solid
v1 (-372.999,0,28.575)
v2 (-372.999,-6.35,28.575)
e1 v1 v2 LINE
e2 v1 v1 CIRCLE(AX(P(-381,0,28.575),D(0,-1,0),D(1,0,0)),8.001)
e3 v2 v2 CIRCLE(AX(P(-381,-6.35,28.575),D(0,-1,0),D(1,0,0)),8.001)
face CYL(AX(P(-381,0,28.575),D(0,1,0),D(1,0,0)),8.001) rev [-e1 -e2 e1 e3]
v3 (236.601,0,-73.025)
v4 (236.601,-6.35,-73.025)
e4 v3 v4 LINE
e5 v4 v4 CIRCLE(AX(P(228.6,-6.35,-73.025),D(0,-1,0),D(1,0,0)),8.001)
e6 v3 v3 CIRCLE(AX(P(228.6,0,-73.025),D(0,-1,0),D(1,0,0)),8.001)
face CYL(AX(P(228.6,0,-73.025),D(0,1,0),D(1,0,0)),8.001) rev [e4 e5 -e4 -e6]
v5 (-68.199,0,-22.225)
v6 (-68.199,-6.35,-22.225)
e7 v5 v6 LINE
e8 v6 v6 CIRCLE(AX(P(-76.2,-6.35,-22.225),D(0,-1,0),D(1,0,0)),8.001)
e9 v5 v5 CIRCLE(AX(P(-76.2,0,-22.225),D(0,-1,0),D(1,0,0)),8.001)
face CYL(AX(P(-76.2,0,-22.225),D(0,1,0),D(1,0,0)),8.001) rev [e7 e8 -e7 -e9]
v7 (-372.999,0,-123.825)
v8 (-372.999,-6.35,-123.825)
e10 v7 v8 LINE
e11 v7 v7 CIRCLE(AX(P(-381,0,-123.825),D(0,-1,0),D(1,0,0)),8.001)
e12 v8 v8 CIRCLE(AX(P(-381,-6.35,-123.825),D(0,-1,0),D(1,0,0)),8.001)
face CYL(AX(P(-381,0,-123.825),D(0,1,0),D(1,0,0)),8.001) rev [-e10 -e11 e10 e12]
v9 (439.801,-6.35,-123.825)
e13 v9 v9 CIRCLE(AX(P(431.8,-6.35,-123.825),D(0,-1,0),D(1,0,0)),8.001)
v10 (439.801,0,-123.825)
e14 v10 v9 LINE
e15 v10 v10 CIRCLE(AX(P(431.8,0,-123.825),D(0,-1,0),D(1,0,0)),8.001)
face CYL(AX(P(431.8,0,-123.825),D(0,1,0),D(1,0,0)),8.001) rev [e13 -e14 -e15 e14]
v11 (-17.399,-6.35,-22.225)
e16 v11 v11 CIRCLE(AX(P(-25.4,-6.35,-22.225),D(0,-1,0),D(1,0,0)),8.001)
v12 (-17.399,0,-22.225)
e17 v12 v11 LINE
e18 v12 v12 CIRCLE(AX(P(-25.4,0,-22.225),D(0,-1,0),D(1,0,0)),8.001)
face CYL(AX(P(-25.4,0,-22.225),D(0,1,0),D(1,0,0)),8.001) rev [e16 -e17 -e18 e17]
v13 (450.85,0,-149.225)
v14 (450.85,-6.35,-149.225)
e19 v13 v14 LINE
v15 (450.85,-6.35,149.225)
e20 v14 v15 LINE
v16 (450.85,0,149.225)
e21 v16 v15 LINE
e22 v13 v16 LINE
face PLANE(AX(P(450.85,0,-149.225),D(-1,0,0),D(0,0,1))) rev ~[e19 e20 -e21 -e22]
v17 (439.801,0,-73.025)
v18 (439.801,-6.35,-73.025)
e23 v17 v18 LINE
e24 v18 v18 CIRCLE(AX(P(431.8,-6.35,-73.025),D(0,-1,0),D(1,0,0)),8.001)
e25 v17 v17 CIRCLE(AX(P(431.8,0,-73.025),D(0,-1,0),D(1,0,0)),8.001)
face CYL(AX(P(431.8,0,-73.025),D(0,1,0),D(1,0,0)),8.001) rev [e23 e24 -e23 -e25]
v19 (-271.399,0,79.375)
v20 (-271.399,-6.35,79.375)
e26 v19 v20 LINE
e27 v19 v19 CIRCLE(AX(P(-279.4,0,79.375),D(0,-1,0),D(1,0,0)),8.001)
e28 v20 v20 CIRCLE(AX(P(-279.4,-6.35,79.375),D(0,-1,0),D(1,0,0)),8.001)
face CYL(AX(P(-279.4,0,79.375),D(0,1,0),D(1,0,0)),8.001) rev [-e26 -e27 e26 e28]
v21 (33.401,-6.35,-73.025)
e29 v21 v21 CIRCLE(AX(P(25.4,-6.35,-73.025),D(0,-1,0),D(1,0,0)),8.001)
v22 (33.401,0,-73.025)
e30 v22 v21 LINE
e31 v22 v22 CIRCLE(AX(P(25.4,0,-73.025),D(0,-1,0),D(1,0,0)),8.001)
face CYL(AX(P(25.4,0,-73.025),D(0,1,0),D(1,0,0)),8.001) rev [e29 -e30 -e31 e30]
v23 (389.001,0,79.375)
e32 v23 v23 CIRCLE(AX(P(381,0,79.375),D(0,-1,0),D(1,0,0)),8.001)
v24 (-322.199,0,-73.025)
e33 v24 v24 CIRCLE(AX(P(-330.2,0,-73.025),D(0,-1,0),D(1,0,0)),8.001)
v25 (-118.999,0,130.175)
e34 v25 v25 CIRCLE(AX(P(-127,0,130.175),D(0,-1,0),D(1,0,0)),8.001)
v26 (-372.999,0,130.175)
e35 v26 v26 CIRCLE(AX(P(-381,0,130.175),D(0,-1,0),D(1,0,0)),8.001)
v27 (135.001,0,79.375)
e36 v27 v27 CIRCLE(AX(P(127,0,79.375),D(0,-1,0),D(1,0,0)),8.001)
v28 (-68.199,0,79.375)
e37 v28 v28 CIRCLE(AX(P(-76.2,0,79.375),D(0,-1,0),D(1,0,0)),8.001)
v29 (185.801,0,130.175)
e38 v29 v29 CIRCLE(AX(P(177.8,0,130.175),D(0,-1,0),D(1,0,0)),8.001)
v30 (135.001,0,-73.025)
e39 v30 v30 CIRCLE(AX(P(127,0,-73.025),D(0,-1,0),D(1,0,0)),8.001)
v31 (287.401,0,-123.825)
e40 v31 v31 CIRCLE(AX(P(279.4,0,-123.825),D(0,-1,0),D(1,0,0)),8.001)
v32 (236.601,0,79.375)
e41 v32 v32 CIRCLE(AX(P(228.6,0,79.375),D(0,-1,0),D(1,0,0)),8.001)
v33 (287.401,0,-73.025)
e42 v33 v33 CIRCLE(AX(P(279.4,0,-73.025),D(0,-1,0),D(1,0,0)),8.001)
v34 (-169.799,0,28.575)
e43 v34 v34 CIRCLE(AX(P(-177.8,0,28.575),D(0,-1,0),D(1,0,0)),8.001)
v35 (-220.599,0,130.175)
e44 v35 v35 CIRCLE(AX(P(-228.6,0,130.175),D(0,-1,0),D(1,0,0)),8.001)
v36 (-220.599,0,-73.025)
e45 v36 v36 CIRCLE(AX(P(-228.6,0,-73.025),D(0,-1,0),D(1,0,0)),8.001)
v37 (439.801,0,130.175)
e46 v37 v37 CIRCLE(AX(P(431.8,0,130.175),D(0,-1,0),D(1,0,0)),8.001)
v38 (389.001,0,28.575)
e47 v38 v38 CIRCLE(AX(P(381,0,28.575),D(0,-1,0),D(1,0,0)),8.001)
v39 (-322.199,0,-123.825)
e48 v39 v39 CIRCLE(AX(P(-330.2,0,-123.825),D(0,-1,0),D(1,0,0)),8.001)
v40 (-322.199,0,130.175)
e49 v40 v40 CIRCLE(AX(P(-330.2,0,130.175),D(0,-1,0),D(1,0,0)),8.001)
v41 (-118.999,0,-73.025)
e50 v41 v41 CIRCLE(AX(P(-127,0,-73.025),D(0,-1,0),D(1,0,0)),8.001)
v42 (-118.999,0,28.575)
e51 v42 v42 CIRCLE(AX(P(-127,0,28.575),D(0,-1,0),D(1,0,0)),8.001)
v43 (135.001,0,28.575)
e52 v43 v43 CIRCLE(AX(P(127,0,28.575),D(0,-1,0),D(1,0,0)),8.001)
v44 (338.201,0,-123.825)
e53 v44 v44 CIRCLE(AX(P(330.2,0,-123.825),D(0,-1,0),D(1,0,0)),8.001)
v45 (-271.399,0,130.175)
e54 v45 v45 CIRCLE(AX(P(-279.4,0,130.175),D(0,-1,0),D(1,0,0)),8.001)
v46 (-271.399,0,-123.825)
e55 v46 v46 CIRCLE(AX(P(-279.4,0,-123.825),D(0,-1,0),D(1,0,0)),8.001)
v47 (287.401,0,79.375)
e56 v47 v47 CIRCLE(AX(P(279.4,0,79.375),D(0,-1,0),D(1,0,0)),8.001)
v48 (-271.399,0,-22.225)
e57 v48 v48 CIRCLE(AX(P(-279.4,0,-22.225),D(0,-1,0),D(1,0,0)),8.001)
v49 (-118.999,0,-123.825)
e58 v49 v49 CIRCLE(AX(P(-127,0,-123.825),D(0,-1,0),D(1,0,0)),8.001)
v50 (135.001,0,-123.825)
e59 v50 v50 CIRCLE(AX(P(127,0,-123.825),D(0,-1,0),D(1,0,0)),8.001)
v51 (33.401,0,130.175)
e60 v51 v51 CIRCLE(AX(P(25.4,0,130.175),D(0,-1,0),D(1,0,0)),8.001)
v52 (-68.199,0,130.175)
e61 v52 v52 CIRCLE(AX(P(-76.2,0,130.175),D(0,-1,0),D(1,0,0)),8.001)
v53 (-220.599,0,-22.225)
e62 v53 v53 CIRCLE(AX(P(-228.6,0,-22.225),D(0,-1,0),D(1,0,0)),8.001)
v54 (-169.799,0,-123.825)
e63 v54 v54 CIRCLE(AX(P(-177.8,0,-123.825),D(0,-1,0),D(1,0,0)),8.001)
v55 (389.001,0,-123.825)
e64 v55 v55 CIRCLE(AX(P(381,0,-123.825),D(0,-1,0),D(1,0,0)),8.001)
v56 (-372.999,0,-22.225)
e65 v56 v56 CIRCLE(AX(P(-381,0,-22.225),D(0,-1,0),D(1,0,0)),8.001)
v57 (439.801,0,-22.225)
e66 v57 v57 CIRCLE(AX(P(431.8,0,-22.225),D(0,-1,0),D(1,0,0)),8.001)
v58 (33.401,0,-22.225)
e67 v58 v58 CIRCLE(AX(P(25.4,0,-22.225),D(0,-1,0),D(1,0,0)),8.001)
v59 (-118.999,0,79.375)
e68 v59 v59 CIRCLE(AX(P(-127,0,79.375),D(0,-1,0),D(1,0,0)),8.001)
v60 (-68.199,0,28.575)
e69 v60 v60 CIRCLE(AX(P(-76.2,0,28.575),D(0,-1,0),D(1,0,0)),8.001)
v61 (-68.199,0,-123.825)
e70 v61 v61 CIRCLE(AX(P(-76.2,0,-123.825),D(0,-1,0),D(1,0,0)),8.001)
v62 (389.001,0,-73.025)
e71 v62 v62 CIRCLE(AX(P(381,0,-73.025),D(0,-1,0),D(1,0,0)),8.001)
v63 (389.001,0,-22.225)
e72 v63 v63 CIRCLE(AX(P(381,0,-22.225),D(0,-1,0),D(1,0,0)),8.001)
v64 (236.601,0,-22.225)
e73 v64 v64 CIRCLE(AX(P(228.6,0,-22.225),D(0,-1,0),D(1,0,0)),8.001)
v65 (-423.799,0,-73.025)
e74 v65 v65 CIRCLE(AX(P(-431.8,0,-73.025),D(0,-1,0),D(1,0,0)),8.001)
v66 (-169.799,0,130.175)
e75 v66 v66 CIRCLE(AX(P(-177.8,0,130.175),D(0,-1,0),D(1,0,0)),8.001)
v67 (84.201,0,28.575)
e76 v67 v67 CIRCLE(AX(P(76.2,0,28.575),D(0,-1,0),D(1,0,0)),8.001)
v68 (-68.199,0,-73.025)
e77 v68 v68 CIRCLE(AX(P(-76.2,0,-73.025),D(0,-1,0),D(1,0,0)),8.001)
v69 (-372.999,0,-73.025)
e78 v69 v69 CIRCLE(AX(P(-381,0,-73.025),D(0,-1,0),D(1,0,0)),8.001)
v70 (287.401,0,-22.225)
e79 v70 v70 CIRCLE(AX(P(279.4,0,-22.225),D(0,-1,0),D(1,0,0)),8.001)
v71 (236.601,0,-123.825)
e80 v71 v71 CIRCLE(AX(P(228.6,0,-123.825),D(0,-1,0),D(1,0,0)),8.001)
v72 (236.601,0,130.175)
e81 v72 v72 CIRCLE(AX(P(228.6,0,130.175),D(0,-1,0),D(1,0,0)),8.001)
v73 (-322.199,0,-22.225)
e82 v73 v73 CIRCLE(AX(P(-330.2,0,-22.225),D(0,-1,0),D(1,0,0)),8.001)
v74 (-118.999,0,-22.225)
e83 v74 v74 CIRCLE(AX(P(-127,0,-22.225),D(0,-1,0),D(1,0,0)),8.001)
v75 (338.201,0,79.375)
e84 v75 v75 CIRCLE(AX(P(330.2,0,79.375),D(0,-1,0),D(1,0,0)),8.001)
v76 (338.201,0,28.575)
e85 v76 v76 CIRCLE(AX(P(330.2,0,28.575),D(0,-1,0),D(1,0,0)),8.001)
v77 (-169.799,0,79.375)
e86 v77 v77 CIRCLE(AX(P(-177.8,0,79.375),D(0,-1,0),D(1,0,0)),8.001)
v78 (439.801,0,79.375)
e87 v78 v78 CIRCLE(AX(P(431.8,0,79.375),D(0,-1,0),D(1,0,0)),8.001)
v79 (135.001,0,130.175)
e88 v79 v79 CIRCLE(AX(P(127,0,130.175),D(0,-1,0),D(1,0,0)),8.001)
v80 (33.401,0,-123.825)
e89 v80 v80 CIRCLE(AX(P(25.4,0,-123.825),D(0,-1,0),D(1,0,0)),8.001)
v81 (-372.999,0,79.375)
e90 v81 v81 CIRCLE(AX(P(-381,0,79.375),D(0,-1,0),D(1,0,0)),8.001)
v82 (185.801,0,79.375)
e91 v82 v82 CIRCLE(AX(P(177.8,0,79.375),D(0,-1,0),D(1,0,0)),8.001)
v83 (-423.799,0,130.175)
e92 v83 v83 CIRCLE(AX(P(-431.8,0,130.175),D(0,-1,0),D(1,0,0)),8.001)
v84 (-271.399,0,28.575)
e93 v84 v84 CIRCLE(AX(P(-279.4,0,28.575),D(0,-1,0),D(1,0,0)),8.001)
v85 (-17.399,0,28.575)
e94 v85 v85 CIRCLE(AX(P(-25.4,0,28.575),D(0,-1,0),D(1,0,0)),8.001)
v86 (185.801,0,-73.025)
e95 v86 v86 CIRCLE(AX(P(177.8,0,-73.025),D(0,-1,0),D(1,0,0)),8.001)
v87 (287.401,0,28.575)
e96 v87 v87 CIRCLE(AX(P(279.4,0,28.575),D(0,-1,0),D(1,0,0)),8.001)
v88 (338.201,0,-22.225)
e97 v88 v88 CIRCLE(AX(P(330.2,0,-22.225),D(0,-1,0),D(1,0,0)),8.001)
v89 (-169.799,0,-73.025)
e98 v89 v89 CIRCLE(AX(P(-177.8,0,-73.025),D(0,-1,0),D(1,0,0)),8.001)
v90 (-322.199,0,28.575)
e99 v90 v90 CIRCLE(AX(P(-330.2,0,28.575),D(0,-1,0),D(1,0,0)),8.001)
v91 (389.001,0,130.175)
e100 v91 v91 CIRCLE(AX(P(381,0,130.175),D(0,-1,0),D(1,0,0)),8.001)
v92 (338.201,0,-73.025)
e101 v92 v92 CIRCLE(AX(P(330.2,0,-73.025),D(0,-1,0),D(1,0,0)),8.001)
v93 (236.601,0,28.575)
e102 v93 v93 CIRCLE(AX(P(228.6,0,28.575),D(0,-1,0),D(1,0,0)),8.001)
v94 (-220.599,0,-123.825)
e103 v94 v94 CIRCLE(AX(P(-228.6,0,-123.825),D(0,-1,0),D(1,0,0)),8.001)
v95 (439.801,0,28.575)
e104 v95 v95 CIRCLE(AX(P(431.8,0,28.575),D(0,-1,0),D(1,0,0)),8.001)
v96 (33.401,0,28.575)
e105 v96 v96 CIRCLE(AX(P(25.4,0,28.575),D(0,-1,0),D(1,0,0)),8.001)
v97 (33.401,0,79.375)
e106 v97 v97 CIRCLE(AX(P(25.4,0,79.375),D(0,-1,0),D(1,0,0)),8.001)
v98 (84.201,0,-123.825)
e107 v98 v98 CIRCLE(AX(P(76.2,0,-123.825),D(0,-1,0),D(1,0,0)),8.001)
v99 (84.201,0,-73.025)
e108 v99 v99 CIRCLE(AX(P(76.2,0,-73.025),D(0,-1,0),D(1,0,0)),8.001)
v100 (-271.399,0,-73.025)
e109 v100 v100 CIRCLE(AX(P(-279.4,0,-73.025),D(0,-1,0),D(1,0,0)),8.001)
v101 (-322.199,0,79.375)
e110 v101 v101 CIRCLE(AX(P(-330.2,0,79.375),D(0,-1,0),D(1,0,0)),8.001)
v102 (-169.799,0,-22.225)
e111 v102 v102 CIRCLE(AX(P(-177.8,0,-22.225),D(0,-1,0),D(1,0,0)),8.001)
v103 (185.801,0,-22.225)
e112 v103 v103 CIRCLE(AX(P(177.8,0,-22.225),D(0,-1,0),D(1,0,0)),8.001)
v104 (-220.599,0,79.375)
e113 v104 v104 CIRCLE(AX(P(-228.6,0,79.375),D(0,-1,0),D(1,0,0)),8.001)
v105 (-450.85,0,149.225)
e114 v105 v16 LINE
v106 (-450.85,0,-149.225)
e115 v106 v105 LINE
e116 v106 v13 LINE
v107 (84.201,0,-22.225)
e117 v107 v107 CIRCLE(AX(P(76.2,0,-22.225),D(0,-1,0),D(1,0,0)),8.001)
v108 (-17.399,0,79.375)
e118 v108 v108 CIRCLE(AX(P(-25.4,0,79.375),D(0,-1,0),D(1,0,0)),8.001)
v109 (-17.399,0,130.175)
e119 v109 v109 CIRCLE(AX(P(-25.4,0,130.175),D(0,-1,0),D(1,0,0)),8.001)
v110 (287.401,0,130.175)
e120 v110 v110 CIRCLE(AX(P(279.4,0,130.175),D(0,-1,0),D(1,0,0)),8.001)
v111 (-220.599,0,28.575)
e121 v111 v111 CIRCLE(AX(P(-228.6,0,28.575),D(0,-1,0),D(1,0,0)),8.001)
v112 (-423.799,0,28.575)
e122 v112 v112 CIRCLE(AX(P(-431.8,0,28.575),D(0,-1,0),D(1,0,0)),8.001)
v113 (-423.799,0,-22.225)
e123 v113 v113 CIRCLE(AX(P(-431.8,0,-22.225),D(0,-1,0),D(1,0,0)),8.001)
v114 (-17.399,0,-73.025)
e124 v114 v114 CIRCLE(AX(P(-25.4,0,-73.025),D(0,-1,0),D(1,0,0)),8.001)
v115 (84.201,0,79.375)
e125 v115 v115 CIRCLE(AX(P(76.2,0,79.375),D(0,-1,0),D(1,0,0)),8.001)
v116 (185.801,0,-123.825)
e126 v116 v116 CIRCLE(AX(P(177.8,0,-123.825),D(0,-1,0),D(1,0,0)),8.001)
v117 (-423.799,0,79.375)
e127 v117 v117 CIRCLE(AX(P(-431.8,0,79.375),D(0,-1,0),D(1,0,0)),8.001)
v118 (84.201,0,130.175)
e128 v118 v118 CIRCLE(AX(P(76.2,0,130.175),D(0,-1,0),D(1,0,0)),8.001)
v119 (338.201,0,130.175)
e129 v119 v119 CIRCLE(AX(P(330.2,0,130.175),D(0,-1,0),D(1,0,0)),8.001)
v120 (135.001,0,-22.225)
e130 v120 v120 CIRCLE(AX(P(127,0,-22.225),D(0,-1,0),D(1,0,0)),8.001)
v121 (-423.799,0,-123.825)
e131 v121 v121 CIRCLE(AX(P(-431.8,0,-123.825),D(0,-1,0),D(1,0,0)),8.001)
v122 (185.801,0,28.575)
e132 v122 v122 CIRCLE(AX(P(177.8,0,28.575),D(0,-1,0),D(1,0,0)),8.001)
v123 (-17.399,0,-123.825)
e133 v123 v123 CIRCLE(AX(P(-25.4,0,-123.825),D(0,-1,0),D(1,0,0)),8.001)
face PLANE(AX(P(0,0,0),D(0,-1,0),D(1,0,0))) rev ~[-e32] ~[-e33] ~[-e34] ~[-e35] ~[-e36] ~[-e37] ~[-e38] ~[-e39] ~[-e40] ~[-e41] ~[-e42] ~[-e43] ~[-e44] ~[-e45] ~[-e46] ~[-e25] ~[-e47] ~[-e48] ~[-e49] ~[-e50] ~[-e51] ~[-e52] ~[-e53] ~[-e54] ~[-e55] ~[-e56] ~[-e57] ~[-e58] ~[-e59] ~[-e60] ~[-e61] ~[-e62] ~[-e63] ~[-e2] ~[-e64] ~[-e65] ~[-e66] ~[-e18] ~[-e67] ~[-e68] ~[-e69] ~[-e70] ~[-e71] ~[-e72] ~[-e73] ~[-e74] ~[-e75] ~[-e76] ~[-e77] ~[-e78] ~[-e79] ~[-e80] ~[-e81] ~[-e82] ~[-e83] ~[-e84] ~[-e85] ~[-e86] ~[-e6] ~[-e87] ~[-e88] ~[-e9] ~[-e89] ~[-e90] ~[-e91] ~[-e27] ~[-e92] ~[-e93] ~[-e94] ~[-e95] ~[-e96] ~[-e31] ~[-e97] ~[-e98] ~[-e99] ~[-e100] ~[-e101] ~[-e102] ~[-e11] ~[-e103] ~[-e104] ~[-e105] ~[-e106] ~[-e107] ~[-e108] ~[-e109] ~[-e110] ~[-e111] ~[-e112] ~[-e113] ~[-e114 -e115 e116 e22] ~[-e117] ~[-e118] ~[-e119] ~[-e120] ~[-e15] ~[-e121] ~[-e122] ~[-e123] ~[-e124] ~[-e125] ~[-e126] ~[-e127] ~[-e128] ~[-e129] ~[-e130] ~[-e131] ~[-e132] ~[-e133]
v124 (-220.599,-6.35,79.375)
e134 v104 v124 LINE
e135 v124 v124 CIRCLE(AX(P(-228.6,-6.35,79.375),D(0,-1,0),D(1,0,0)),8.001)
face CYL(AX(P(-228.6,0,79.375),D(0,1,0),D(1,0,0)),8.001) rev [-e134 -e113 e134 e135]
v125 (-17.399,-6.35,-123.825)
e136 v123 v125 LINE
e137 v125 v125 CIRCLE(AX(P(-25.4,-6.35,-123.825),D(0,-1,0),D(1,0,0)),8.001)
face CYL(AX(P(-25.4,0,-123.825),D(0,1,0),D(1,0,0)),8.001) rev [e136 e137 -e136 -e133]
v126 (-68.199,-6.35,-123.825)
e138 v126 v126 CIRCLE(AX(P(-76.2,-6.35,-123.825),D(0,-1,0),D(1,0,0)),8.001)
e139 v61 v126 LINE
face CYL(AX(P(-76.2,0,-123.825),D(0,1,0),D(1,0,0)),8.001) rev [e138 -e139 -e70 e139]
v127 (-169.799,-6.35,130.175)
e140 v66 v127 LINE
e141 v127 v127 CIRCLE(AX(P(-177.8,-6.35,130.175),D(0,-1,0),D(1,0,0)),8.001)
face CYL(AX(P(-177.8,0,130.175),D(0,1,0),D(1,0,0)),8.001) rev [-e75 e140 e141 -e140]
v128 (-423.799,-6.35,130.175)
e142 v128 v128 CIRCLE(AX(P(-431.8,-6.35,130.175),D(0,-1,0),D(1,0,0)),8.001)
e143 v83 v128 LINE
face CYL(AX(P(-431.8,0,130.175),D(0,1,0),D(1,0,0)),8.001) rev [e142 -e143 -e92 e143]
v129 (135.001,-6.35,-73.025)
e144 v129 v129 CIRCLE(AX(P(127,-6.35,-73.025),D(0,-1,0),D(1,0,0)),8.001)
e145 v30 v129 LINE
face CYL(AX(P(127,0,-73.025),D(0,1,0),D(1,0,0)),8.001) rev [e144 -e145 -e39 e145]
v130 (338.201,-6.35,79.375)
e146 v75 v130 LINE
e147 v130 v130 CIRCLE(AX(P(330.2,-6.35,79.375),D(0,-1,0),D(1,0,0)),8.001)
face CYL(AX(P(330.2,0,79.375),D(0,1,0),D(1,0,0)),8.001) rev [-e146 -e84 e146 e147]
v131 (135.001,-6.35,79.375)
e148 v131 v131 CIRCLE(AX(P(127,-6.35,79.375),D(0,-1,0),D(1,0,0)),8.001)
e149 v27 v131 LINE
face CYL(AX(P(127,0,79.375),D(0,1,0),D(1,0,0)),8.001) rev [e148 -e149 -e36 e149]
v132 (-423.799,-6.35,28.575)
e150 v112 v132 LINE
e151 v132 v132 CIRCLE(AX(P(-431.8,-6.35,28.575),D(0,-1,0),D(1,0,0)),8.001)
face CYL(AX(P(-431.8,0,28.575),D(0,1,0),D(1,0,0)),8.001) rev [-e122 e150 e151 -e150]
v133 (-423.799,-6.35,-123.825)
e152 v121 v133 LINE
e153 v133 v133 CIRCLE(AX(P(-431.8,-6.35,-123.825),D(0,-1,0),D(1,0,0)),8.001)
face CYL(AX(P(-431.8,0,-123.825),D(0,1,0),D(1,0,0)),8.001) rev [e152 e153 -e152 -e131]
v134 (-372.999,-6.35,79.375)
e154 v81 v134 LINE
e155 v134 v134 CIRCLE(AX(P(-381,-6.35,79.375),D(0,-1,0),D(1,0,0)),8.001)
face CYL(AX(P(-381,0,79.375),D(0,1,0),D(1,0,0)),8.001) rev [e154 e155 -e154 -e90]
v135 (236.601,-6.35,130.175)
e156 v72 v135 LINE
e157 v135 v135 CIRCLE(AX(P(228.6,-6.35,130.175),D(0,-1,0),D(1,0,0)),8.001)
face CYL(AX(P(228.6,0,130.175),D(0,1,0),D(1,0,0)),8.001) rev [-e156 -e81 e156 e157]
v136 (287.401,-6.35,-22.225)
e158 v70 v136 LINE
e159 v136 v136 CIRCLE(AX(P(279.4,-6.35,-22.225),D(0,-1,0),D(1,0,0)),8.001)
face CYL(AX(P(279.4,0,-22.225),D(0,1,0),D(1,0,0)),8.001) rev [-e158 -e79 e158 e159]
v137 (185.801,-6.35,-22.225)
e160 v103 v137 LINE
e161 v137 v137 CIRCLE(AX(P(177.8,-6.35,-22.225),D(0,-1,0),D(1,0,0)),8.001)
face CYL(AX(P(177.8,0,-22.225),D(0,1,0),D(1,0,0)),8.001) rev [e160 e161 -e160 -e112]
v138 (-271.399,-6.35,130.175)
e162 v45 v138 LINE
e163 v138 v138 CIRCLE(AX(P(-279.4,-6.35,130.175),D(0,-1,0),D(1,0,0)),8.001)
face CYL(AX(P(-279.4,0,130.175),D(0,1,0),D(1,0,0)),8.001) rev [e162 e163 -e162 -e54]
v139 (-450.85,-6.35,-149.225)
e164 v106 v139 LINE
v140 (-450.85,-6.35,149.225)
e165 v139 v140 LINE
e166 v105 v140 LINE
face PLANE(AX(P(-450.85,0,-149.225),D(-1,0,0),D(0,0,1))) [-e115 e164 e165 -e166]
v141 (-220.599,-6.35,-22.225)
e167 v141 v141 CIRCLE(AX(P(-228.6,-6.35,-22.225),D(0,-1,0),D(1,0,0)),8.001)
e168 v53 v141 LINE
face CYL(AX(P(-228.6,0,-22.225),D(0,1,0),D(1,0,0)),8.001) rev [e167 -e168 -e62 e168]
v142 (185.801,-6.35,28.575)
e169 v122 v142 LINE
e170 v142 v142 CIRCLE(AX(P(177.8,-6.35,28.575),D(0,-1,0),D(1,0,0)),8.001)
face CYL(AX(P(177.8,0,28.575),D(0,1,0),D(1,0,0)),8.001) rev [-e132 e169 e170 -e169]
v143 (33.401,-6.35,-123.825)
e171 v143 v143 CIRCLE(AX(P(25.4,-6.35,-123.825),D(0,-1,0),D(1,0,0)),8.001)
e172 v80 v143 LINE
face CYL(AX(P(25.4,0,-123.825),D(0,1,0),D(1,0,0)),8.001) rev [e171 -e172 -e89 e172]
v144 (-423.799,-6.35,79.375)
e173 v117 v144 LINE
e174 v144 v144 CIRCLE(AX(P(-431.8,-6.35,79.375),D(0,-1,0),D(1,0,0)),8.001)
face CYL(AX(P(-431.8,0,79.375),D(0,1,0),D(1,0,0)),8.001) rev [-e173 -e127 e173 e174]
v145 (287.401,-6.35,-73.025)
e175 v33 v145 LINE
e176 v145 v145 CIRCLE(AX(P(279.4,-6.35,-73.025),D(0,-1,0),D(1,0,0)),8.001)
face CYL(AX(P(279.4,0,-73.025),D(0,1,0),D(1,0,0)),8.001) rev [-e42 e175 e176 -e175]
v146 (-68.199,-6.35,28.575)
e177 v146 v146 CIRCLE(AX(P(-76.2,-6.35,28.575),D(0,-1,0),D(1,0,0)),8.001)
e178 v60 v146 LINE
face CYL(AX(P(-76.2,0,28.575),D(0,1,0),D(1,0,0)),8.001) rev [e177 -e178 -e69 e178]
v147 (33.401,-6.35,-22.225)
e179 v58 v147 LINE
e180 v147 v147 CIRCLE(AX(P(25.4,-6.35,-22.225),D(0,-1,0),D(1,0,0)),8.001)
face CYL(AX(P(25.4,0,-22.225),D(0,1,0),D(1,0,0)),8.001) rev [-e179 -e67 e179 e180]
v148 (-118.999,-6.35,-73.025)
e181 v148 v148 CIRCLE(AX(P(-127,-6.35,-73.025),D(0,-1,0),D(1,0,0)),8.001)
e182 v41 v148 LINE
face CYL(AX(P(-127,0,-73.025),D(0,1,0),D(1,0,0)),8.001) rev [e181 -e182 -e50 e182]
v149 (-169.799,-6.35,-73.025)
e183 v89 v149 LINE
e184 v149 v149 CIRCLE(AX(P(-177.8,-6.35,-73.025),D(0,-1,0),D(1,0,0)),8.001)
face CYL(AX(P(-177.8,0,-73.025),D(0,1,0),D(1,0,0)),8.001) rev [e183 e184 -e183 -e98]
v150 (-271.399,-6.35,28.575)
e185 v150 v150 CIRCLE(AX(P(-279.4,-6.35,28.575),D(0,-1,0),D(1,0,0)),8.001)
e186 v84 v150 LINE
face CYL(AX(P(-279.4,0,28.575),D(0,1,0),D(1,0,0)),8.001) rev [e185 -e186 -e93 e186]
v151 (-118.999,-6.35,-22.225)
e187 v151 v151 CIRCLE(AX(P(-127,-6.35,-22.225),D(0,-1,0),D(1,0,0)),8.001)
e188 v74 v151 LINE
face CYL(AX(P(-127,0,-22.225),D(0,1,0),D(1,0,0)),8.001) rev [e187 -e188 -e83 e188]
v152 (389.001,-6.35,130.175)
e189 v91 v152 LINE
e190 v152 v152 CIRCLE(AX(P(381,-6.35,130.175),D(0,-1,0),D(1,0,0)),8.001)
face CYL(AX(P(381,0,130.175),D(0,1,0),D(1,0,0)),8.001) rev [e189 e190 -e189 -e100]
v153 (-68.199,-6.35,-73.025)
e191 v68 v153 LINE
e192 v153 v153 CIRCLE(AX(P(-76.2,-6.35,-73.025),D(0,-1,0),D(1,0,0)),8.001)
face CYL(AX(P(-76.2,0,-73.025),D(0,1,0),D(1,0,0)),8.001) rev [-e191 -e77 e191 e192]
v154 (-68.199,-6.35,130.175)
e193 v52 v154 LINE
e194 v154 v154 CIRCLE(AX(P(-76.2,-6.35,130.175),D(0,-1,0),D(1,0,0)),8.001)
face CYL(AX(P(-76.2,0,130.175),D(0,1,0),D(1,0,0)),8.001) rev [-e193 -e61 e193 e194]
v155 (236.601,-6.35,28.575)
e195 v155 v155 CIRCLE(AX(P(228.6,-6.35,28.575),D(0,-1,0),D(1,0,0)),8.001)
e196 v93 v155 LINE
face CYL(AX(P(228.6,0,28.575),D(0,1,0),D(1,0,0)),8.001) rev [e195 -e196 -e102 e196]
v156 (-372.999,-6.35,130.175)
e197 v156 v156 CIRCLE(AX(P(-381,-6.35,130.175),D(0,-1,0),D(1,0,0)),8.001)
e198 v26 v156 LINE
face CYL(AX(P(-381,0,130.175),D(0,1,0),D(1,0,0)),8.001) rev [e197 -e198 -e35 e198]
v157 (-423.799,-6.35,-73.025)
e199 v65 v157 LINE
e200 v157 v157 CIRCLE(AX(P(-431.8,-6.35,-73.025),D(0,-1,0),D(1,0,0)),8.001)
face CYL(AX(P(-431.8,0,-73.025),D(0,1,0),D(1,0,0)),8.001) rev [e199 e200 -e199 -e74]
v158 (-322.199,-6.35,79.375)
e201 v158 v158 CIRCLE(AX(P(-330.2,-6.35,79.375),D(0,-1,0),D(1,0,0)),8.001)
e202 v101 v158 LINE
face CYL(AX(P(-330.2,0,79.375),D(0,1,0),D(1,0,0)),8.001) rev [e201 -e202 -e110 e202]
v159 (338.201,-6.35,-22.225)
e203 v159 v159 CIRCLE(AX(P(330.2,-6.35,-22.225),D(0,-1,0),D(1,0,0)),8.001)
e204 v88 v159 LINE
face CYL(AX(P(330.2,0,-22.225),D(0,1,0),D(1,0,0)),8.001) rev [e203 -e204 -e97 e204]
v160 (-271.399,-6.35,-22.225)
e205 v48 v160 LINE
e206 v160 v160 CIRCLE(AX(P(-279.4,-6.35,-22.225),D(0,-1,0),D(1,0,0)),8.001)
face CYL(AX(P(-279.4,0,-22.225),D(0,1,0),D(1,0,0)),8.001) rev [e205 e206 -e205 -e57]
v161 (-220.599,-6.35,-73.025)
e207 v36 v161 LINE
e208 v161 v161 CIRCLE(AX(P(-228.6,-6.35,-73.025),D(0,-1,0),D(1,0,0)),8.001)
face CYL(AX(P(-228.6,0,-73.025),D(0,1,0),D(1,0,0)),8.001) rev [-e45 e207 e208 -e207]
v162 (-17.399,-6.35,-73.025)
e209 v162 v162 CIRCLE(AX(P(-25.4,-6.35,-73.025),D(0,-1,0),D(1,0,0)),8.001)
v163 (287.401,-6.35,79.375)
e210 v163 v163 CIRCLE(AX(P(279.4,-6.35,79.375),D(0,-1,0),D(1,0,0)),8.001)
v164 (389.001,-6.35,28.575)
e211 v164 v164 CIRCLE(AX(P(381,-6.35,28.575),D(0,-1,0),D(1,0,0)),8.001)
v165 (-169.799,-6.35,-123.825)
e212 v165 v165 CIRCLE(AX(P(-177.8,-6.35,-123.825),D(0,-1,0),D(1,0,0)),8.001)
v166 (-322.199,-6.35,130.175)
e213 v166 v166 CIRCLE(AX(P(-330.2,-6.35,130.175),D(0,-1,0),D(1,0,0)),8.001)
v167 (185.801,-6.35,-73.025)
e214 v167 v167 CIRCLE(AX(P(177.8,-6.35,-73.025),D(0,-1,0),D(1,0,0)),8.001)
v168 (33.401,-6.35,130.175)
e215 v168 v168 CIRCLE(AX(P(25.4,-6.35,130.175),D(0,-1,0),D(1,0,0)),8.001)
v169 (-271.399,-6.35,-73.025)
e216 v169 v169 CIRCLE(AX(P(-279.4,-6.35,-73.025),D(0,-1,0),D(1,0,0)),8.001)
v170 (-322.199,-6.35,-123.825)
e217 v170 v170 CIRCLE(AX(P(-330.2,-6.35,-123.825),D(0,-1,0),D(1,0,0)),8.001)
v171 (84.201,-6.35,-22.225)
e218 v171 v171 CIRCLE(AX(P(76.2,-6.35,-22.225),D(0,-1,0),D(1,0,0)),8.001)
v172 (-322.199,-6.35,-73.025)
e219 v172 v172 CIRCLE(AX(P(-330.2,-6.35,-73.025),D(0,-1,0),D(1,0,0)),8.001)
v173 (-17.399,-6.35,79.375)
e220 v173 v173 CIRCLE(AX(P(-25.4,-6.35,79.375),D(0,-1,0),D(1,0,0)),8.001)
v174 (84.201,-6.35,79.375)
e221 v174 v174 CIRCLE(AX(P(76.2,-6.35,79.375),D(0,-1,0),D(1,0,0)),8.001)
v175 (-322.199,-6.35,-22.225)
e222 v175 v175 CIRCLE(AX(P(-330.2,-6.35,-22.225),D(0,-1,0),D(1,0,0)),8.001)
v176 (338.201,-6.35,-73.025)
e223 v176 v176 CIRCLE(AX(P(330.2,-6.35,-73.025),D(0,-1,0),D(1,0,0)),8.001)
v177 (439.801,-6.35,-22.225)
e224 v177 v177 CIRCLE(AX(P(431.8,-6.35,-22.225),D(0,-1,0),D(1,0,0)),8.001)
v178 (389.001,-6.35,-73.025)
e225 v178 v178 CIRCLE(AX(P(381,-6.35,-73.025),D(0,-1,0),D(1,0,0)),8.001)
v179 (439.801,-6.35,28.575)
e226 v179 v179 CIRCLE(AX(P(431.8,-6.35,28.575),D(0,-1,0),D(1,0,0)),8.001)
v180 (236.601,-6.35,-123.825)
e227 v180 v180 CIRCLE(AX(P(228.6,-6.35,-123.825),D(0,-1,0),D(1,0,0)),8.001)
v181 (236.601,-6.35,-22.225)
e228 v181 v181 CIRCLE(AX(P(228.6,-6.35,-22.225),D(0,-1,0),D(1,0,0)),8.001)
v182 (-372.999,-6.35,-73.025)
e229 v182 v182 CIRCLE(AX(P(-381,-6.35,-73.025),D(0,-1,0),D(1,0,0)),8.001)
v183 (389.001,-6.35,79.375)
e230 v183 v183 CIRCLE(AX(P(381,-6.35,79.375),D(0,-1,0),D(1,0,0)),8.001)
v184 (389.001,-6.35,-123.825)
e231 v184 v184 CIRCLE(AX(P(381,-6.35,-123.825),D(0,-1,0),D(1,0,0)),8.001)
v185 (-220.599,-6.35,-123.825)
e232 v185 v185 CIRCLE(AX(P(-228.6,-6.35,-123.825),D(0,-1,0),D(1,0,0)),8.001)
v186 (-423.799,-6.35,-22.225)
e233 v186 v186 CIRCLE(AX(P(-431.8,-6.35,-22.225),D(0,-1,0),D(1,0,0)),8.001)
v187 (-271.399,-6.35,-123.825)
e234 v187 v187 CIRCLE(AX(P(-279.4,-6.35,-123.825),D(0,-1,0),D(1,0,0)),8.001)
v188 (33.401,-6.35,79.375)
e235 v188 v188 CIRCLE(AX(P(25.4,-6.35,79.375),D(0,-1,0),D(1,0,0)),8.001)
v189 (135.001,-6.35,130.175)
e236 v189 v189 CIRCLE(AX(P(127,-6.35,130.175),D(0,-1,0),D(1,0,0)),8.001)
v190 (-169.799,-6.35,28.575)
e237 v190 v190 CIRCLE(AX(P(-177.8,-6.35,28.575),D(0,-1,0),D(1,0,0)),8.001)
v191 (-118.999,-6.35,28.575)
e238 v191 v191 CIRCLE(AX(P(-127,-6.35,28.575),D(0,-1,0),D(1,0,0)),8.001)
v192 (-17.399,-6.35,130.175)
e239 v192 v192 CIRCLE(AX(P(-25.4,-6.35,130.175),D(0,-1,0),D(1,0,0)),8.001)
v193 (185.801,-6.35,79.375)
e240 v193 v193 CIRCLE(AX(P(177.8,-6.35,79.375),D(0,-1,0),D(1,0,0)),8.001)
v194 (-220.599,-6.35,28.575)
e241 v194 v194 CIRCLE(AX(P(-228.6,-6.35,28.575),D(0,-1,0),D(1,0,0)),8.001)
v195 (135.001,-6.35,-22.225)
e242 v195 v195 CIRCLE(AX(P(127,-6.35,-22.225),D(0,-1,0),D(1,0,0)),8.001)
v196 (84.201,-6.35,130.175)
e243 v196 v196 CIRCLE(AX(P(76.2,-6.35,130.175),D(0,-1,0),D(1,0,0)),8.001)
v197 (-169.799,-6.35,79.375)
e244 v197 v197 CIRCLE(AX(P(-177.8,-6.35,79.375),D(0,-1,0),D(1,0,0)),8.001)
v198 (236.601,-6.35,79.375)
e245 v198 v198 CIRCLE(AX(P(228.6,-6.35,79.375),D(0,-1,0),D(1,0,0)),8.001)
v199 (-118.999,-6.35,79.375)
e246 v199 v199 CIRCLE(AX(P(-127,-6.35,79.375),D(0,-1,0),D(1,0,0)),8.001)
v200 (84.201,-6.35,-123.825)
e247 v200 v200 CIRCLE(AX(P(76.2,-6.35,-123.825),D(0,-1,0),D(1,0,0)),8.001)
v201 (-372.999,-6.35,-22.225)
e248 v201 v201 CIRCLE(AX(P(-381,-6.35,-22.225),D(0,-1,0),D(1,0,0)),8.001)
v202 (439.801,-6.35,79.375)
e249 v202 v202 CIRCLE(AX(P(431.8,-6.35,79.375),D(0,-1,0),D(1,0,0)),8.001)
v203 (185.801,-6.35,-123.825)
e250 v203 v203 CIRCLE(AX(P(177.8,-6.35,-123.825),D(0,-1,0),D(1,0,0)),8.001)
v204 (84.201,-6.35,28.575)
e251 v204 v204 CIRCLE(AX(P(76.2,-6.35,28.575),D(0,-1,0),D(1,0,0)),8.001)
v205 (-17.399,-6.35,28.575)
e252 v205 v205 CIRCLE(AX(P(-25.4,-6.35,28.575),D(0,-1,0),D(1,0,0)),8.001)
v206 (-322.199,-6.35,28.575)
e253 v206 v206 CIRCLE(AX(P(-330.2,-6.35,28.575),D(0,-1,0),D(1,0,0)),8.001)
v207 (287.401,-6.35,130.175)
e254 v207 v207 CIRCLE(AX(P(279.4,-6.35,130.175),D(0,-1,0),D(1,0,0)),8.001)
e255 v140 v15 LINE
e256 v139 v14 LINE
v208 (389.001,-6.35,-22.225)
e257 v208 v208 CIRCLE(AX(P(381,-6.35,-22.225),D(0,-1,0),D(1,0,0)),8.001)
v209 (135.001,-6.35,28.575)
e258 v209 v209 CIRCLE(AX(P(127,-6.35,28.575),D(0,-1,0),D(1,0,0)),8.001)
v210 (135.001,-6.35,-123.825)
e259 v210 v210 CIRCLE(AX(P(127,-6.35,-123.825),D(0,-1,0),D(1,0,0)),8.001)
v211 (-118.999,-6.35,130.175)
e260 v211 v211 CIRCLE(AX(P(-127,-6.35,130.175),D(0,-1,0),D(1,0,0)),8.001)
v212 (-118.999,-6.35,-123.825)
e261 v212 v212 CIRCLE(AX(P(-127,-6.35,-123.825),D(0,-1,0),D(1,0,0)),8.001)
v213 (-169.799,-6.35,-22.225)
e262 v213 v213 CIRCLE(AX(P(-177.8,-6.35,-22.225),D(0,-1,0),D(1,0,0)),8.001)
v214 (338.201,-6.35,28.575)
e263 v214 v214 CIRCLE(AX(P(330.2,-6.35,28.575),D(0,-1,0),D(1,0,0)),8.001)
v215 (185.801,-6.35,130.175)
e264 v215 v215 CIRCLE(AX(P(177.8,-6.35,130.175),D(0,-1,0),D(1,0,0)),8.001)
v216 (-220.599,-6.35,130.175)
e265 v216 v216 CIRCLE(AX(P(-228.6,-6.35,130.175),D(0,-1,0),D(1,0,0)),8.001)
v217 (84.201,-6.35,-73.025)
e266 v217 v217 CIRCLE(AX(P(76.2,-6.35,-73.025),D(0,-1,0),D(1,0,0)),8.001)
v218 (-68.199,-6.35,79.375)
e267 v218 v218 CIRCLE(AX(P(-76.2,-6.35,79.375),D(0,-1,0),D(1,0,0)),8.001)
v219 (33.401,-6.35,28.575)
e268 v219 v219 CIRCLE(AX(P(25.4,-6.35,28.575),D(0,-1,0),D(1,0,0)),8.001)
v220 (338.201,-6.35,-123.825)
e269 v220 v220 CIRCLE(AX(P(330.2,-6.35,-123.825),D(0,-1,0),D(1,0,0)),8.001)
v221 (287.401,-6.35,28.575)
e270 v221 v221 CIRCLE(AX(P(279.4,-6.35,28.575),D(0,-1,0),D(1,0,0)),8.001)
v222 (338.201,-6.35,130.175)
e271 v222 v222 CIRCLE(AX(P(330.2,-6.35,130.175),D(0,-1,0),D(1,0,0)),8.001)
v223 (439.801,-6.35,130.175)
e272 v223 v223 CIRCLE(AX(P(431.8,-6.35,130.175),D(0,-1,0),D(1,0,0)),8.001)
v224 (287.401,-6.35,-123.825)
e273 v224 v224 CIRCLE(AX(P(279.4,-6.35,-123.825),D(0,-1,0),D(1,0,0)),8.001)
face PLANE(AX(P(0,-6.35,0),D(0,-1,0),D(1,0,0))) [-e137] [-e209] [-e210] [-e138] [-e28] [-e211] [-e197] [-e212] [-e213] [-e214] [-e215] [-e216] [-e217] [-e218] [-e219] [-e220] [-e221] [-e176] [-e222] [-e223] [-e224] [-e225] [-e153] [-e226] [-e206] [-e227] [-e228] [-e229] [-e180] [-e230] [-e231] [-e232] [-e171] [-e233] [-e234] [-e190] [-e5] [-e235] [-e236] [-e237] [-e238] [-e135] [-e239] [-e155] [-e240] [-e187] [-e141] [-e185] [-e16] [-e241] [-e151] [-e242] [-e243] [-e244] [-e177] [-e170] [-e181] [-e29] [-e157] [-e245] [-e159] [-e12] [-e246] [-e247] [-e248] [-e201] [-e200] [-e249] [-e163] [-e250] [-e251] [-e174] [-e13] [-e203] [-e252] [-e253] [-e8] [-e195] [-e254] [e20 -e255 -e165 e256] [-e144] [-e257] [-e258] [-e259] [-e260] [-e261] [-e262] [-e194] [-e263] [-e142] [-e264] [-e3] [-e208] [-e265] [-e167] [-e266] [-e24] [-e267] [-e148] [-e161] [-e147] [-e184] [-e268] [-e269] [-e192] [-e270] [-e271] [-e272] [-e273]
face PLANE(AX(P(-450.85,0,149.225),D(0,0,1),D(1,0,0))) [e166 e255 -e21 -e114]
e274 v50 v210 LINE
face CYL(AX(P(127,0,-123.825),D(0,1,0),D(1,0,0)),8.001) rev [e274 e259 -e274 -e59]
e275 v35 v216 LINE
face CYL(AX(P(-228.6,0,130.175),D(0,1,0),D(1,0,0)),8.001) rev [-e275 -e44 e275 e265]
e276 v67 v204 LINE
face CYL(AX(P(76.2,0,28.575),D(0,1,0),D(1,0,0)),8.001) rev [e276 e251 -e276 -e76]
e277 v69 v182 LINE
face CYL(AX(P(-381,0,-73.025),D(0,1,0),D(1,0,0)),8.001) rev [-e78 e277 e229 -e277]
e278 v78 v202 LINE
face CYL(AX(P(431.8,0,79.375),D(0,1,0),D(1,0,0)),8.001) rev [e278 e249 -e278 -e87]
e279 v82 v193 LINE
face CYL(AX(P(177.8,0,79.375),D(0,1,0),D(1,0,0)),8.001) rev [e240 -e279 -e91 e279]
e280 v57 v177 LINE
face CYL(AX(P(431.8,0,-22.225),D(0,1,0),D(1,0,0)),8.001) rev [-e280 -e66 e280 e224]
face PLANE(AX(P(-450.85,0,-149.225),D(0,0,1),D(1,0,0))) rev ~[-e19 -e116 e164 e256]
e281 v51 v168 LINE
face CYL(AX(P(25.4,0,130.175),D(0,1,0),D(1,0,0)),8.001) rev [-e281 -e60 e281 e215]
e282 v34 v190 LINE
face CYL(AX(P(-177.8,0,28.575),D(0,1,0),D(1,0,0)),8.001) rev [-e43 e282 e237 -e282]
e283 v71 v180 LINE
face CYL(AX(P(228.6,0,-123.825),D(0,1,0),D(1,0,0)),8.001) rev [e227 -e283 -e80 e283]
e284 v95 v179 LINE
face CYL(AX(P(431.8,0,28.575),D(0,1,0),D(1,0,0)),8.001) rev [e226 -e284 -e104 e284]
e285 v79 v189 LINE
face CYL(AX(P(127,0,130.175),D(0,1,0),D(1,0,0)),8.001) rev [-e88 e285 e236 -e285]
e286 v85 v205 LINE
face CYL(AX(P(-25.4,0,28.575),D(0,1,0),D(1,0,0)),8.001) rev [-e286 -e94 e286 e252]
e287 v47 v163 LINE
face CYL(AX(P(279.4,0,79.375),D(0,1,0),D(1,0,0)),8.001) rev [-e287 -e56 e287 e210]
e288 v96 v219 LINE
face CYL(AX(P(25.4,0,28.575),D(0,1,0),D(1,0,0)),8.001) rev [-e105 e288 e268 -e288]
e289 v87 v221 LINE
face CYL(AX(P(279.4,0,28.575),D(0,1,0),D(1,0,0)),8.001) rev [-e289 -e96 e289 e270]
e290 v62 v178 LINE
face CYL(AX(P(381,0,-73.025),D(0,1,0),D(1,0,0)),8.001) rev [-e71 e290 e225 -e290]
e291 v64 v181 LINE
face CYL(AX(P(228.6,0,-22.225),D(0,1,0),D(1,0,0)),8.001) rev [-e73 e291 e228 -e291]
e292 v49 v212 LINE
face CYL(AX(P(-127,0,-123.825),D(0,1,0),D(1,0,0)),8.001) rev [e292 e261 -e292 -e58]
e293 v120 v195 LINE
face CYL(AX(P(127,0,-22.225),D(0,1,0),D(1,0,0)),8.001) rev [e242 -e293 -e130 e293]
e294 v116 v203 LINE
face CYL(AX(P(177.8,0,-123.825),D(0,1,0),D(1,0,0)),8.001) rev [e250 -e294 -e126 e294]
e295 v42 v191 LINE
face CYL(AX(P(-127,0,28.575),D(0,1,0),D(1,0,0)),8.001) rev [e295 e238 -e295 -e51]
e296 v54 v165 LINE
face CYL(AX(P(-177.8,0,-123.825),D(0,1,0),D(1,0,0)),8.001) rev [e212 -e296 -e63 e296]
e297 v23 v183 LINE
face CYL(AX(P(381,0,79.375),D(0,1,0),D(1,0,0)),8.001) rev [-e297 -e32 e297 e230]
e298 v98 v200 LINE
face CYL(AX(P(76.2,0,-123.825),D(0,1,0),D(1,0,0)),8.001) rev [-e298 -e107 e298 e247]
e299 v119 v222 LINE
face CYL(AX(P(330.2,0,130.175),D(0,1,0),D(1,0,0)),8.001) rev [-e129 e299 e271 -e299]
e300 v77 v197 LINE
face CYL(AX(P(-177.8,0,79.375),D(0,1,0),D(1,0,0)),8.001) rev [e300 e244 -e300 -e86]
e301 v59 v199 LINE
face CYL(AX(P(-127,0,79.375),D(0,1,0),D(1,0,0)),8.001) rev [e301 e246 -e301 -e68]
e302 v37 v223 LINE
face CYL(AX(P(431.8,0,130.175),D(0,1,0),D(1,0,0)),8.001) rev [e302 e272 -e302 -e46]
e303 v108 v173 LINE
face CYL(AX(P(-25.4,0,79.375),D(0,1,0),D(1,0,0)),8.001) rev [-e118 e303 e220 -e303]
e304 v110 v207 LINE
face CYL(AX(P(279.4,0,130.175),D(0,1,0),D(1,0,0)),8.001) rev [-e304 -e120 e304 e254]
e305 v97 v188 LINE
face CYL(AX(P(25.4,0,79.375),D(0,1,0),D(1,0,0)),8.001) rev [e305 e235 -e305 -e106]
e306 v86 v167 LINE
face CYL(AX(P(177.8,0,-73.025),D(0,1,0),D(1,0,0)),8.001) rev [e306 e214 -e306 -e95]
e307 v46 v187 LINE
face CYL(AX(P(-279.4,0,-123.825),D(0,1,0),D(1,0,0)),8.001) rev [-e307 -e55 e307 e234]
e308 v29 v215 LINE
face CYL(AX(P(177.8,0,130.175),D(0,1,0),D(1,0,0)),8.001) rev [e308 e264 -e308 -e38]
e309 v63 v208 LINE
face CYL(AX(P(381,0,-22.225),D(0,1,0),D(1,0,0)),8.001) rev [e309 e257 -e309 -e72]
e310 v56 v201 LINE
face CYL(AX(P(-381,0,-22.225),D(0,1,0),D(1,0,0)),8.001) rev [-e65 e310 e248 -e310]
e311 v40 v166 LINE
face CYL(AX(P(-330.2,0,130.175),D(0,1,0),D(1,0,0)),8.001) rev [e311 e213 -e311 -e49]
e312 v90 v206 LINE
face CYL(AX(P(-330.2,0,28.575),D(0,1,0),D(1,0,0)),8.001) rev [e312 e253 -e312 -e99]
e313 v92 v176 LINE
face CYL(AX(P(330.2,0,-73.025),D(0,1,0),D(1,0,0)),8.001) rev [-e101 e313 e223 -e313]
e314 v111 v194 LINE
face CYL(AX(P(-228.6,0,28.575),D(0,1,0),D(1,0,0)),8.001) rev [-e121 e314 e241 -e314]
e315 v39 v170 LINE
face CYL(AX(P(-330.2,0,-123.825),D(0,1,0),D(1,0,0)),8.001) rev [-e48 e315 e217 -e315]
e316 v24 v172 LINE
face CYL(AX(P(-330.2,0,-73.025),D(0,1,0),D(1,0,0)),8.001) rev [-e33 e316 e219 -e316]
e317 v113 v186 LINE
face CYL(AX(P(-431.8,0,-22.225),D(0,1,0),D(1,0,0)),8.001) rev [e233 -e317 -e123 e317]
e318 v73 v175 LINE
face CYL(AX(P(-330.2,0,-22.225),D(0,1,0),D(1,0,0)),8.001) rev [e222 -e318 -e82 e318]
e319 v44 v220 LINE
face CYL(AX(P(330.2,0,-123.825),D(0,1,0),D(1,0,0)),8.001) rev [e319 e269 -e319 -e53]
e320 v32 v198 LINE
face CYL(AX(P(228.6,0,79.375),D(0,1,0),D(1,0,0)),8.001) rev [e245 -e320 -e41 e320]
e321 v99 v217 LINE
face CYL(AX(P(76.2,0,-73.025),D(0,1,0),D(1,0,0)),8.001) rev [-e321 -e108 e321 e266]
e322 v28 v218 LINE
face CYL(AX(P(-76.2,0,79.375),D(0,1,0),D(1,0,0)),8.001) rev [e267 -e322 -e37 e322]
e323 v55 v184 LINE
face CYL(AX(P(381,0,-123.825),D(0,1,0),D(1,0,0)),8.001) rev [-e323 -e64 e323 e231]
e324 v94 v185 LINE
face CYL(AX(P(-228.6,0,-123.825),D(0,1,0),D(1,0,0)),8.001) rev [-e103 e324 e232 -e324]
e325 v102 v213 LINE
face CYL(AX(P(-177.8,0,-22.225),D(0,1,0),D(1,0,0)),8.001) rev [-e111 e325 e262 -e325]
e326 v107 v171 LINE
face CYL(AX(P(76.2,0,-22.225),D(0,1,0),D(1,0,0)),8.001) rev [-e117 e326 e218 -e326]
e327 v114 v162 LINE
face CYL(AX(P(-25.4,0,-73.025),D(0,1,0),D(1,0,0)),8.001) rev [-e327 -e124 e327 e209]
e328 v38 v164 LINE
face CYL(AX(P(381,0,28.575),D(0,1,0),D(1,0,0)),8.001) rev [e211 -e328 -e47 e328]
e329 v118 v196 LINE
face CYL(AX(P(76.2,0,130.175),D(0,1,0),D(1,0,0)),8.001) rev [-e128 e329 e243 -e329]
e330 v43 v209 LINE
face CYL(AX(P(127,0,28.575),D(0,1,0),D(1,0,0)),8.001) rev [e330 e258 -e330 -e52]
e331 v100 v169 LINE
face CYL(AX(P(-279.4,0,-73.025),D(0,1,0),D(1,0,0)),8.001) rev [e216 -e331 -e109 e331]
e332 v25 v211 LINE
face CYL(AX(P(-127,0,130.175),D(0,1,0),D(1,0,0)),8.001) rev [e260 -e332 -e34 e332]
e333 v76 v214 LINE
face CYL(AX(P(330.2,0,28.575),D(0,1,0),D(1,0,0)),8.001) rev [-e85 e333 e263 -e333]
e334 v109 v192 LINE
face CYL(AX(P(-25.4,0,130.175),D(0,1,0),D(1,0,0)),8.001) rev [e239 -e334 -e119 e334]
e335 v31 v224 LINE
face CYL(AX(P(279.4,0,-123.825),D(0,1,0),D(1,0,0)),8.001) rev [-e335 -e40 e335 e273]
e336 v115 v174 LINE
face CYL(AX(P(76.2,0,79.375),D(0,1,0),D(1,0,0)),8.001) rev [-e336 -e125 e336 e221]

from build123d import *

# Parameters (mm, degrees)
F0_W     = 901.7
F0_H     = 298.45
F0_R     = 8.001
F1_DEPTH = 6.35


with BuildPart() as f1:
    # F0 (on Front) → F1 (new body)
    with BuildSketch(Plane.XZ):
        Rectangle(F0_W, F0_H)
        with Locations((-431.8, -123.825)):
            Circle(F0_R, mode=Mode.SUBTRACT)
        with Locations((-381, -123.825)):
            Circle(F0_R, mode=Mode.SUBTRACT)
        with Locations((-330.2, -123.825)):
            Circle(F0_R, mode=Mode.SUBTRACT)
        with Locations((-279.4, -123.825)):
            Circle(F0_R, mode=Mode.SUBTRACT)
        with Locations((-228.6, -123.825)):
            Circle(F0_R, mode=Mode.SUBTRACT)
        with Locations((-177.8, -123.825)):
            Circle(F0_R, mode=Mode.SUBTRACT)
        with Locations((-127, -123.825)):
            Circle(F0_R, mode=Mode.SUBTRACT)
        with Locations((-76.2, -123.825)):
            Circle(F0_R, mode=Mode.SUBTRACT)
        with Locations((-25.4, -123.825)):
            Circle(F0_R, mode=Mode.SUBTRACT)
        with Locations((-431.8, -73.025)):
            Circle(F0_R, mode=Mode.SUBTRACT)
        with Locations((-381, -73.025)):
            Circle(F0_R, mode=Mode.SUBTRACT)
        with Locations((-330.2, -73.025)):
            Circle(F0_R, mode=Mode.SUBTRACT)
        with Locations((-279.4, -73.025)):
            Circle(F0_R, mode=Mode.SUBTRACT)
        with Locations((-228.6, -73.025)):
            Circle(F0_R, mode=Mode.SUBTRACT)
        with Locations((-431.8, -22.225)):
            Circle(F0_R, mode=Mode.SUBTRACT)
        with Locations((-381, -22.225)):
            Circle(F0_R, mode=Mode.SUBTRACT)
        with Locations((-330.2, -22.225)):
            Circle(F0_R, mode=Mode.SUBTRACT)
        with Locations((-279.4, -22.225)):
            Circle(F0_R, mode=Mode.SUBTRACT)
        with Locations((-228.6, -22.225)):
            Circle(F0_R, mode=Mode.SUBTRACT)
        with Locations((-177.8, -73.025)):
            Circle(F0_R, mode=Mode.SUBTRACT)
        with Locations((-127, -73.025)):
            Circle(F0_R, mode=Mode.SUBTRACT)
        with Locations((-76.2, -73.025)):
            Circle(F0_R, mode=Mode.SUBTRACT)
        with Locations((-25.4, -73.025)):
            Circle(F0_R, mode=Mode.SUBTRACT)
        with Locations((-177.8, -22.225)):
            Circle(F0_R, mode=Mode.SUBTRACT)
        with Locations((-127, -22.225)):
            Circle(F0_R, mode=Mode.SUBTRACT)
        with Locations((-76.2, -22.225)):
            Circle(F0_R, mode=Mode.SUBTRACT)
        with Locations((-25.4, -22.225)):
            Circle(F0_R, mode=Mode.SUBTRACT)
        with Locations((25.4, -123.825)):
            Circle(F0_R, mode=Mode.SUBTRACT)
        with Locations((76.2, -123.825)):
            Circle(F0_R, mode=Mode.SUBTRACT)
        with Locations((127, -123.825)):
            Circle(F0_R, mode=Mode.SUBTRACT)
        with Locations((177.8, -123.825)):
            Circle(F0_R, mode=Mode.SUBTRACT)
        with Locations((228.6, -123.825)):
            Circle(F0_R, mode=Mode.SUBTRACT)
        with Locations((279.4, -123.825)):
            Circle(F0_R, mode=Mode.SUBTRACT)
        with Locations((330.2, -123.825)):
            Circle(F0_R, mode=Mode.SUBTRACT)
        with Locations((381, -123.825)):
            Circle(F0_R, mode=Mode.SUBTRACT)
        with Locations((431.8, -123.825)):
            Circle(F0_R, mode=Mode.SUBTRACT)
        with Locations((25.4, -73.025)):
            Circle(F0_R, mode=Mode.SUBTRACT)
        with Locations((76.2, -73.025)):
            Circle(F0_R, mode=Mode.SUBTRACT)
        with Locations((127, -73.025)):
            Circle(F0_R, mode=Mode.SUBTRACT)
        with Locations((177.8, -73.025)):
            Circle(F0_R, mode=Mode.SUBTRACT)
        with Locations((25.4, -22.225)):
            Circle(F0_R, mode=Mode.SUBTRACT)
        with Locations((76.2, -22.225)):
            Circle(F0_R, mode=Mode.SUBTRACT)
        with Locations((127, -22.225)):
            Circle(F0_R, mode=Mode.SUBTRACT)
        with Locations((177.8, -22.225)):
            Circle(F0_R, mode=Mode.SUBTRACT)
        with Locations((228.6, -73.025)):
            Circle(F0_R, mode=Mode.SUBTRACT)
        with Locations((279.4, -73.025)):
            Circle(F0_R, mode=Mode.SUBTRACT)
        with Locations((330.2, -73.025)):
            Circle(F0_R, mode=Mode.SUBTRACT)
        with Locations((381, -73.025)):
            Circle(F0_R, mode=Mode.SUBTRACT)
        with Locations((431.8, -73.025)):
            Circle(F0_R, mode=Mode.SUBTRACT)
        with Locations((228.6, -22.225)):
            Circle(F0_R, mode=Mode.SUBTRACT)
        with Locations((279.4, -22.225)):
            Circle(F0_R, mode=Mode.SUBTRACT)
        with Locations((330.2, -22.225)):
            Circle(F0_R, mode=Mode.SUBTRACT)
        with Locations((381, -22.225)):
            Circle(F0_R, mode=Mode.SUBTRACT)
        with Locations((431.8, -22.225)):
            Circle(F0_R, mode=Mode.SUBTRACT)
        with Locations((-431.8, 28.575)):
            Circle(F0_R, mode=Mode.SUBTRACT)
        with Locations((-381, 28.575)):
            Circle(F0_R, mode=Mode.SUBTRACT)
        with Locations((-330.2, 28.575)):
            Circle(F0_R, mode=Mode.SUBTRACT)
        with Locations((-279.4, 28.575)):
            Circle(F0_R, mode=Mode.SUBTRACT)
        with Locations((-228.6, 28.575)):
            Circle(F0_R, mode=Mode.SUBTRACT)
        with Locations((-177.8, 28.575)):
            Circle(F0_R, mode=Mode.SUBTRACT)
        with Locations((-127, 28.575)):
            Circle(F0_R, mode=Mode.SUBTRACT)
        with Locations((-76.2, 28.575)):
            Circle(F0_R, mode=Mode.SUBTRACT)
        with Locations((-25.4, 28.575)):
            Circle(F0_R, mode=Mode.SUBTRACT)
        with Locations((-431.8, 79.375)):
            Circle(F0_R, mode=Mode.SUBTRACT)
        with Locations((-381, 79.375)):
            Circle(F0_R, mode=Mode.SUBTRACT)
        with Locations((-330.2, 79.375)):
            Circle(F0_R, mode=Mode.SUBTRACT)
        with Locations((-279.4, 79.375)):
            Circle(F0_R, mode=Mode.SUBTRACT)
        with Locations((-228.6, 79.375)):
            Circle(F0_R, mode=Mode.SUBTRACT)
        with Locations((-431.8, 130.175)):
            Circle(F0_R, mode=Mode.SUBTRACT)
        with Locations((-381, 130.175)):
            Circle(F0_R, mode=Mode.SUBTRACT)
        with Locations((-330.2, 130.175)):
            Circle(F0_R, mode=Mode.SUBTRACT)
        with Locations((-279.4, 130.175)):
            Circle(F0_R, mode=Mode.SUBTRACT)
        with Locations((-228.6, 130.175)):
            Circle(F0_R, mode=Mode.SUBTRACT)
        with Locations((-177.8, 79.375)):
            Circle(F0_R, mode=Mode.SUBTRACT)
        with Locations((-127, 79.375)):
            Circle(F0_R, mode=Mode.SUBTRACT)
        with Locations((-76.2, 79.375)):
            Circle(F0_R, mode=Mode.SUBTRACT)
        with Locations((-25.4, 79.375)):
            Circle(F0_R, mode=Mode.SUBTRACT)
        with Locations((-177.8, 130.175)):
            Circle(F0_R, mode=Mode.SUBTRACT)
        with Locations((-127, 130.175)):
            Circle(F0_R, mode=Mode.SUBTRACT)
        with Locations((-76.2, 130.175)):
            Circle(F0_R, mode=Mode.SUBTRACT)
        with Locations((-25.4, 130.175)):
            Circle(F0_R, mode=Mode.SUBTRACT)
        with Locations((25.4, 28.575)):
            Circle(F0_R, mode=Mode.SUBTRACT)
        with Locations((76.2, 28.575)):
            Circle(F0_R, mode=Mode.SUBTRACT)
        with Locations((127, 28.575)):
            Circle(F0_R, mode=Mode.SUBTRACT)
        with Locations((177.8, 28.575)):
            Circle(F0_R, mode=Mode.SUBTRACT)
        with Locations((228.6, 28.575)):
            Circle(F0_R, mode=Mode.SUBTRACT)
        with Locations((279.4, 28.575)):
            Circle(F0_R, mode=Mode.SUBTRACT)
        with Locations((330.2, 28.575)):
            Circle(F0_R, mode=Mode.SUBTRACT)
        with Locations((381, 28.575)):
            Circle(F0_R, mode=Mode.SUBTRACT)
        with Locations((431.8, 28.575)):
            Circle(F0_R, mode=Mode.SUBTRACT)
        with Locations((25.4, 79.375)):
            Circle(F0_R, mode=Mode.SUBTRACT)
        with Locations((76.2, 79.375)):
            Circle(F0_R, mode=Mode.SUBTRACT)
        with Locations((127, 79.375)):
            Circle(F0_R, mode=Mode.SUBTRACT)
        with Locations((177.8, 79.375)):
            Circle(F0_R, mode=Mode.SUBTRACT)
        with Locations((25.4, 130.175)):
            Circle(F0_R, mode=Mode.SUBTRACT)
        with Locations((76.2, 130.175)):
            Circle(F0_R, mode=Mode.SUBTRACT)
        with Locations((127, 130.175)):
            Circle(F0_R, mode=Mode.SUBTRACT)
        with Locations((177.8, 130.175)):
            Circle(F0_R, mode=Mode.SUBTRACT)
        with Locations((228.6, 79.375)):
            Circle(F0_R, mode=Mode.SUBTRACT)
        with Locations((279.4, 79.375)):
            Circle(F0_R, mode=Mode.SUBTRACT)
        with Locations((330.2, 79.375)):
            Circle(F0_R, mode=Mode.SUBTRACT)
        with Locations((381, 79.375)):
            Circle(F0_R, mode=Mode.SUBTRACT)
        with Locations((431.8, 79.375)):
            Circle(F0_R, mode=Mode.SUBTRACT)
        with Locations((228.6, 130.175)):
            Circle(F0_R, mode=Mode.SUBTRACT)
        with Locations((279.4, 130.175)):
            Circle(F0_R, mode=Mode.SUBTRACT)
        with Locations((330.2, 130.175)):
            Circle(F0_R, mode=Mode.SUBTRACT)
        with Locations((381, 130.175)):
            Circle(F0_R, mode=Mode.SUBTRACT)
        with Locations((431.8, 130.175)):
            Circle(F0_R, mode=Mode.SUBTRACT)
    extrude(amount=F1_DEPTH)


solid = f1.part
